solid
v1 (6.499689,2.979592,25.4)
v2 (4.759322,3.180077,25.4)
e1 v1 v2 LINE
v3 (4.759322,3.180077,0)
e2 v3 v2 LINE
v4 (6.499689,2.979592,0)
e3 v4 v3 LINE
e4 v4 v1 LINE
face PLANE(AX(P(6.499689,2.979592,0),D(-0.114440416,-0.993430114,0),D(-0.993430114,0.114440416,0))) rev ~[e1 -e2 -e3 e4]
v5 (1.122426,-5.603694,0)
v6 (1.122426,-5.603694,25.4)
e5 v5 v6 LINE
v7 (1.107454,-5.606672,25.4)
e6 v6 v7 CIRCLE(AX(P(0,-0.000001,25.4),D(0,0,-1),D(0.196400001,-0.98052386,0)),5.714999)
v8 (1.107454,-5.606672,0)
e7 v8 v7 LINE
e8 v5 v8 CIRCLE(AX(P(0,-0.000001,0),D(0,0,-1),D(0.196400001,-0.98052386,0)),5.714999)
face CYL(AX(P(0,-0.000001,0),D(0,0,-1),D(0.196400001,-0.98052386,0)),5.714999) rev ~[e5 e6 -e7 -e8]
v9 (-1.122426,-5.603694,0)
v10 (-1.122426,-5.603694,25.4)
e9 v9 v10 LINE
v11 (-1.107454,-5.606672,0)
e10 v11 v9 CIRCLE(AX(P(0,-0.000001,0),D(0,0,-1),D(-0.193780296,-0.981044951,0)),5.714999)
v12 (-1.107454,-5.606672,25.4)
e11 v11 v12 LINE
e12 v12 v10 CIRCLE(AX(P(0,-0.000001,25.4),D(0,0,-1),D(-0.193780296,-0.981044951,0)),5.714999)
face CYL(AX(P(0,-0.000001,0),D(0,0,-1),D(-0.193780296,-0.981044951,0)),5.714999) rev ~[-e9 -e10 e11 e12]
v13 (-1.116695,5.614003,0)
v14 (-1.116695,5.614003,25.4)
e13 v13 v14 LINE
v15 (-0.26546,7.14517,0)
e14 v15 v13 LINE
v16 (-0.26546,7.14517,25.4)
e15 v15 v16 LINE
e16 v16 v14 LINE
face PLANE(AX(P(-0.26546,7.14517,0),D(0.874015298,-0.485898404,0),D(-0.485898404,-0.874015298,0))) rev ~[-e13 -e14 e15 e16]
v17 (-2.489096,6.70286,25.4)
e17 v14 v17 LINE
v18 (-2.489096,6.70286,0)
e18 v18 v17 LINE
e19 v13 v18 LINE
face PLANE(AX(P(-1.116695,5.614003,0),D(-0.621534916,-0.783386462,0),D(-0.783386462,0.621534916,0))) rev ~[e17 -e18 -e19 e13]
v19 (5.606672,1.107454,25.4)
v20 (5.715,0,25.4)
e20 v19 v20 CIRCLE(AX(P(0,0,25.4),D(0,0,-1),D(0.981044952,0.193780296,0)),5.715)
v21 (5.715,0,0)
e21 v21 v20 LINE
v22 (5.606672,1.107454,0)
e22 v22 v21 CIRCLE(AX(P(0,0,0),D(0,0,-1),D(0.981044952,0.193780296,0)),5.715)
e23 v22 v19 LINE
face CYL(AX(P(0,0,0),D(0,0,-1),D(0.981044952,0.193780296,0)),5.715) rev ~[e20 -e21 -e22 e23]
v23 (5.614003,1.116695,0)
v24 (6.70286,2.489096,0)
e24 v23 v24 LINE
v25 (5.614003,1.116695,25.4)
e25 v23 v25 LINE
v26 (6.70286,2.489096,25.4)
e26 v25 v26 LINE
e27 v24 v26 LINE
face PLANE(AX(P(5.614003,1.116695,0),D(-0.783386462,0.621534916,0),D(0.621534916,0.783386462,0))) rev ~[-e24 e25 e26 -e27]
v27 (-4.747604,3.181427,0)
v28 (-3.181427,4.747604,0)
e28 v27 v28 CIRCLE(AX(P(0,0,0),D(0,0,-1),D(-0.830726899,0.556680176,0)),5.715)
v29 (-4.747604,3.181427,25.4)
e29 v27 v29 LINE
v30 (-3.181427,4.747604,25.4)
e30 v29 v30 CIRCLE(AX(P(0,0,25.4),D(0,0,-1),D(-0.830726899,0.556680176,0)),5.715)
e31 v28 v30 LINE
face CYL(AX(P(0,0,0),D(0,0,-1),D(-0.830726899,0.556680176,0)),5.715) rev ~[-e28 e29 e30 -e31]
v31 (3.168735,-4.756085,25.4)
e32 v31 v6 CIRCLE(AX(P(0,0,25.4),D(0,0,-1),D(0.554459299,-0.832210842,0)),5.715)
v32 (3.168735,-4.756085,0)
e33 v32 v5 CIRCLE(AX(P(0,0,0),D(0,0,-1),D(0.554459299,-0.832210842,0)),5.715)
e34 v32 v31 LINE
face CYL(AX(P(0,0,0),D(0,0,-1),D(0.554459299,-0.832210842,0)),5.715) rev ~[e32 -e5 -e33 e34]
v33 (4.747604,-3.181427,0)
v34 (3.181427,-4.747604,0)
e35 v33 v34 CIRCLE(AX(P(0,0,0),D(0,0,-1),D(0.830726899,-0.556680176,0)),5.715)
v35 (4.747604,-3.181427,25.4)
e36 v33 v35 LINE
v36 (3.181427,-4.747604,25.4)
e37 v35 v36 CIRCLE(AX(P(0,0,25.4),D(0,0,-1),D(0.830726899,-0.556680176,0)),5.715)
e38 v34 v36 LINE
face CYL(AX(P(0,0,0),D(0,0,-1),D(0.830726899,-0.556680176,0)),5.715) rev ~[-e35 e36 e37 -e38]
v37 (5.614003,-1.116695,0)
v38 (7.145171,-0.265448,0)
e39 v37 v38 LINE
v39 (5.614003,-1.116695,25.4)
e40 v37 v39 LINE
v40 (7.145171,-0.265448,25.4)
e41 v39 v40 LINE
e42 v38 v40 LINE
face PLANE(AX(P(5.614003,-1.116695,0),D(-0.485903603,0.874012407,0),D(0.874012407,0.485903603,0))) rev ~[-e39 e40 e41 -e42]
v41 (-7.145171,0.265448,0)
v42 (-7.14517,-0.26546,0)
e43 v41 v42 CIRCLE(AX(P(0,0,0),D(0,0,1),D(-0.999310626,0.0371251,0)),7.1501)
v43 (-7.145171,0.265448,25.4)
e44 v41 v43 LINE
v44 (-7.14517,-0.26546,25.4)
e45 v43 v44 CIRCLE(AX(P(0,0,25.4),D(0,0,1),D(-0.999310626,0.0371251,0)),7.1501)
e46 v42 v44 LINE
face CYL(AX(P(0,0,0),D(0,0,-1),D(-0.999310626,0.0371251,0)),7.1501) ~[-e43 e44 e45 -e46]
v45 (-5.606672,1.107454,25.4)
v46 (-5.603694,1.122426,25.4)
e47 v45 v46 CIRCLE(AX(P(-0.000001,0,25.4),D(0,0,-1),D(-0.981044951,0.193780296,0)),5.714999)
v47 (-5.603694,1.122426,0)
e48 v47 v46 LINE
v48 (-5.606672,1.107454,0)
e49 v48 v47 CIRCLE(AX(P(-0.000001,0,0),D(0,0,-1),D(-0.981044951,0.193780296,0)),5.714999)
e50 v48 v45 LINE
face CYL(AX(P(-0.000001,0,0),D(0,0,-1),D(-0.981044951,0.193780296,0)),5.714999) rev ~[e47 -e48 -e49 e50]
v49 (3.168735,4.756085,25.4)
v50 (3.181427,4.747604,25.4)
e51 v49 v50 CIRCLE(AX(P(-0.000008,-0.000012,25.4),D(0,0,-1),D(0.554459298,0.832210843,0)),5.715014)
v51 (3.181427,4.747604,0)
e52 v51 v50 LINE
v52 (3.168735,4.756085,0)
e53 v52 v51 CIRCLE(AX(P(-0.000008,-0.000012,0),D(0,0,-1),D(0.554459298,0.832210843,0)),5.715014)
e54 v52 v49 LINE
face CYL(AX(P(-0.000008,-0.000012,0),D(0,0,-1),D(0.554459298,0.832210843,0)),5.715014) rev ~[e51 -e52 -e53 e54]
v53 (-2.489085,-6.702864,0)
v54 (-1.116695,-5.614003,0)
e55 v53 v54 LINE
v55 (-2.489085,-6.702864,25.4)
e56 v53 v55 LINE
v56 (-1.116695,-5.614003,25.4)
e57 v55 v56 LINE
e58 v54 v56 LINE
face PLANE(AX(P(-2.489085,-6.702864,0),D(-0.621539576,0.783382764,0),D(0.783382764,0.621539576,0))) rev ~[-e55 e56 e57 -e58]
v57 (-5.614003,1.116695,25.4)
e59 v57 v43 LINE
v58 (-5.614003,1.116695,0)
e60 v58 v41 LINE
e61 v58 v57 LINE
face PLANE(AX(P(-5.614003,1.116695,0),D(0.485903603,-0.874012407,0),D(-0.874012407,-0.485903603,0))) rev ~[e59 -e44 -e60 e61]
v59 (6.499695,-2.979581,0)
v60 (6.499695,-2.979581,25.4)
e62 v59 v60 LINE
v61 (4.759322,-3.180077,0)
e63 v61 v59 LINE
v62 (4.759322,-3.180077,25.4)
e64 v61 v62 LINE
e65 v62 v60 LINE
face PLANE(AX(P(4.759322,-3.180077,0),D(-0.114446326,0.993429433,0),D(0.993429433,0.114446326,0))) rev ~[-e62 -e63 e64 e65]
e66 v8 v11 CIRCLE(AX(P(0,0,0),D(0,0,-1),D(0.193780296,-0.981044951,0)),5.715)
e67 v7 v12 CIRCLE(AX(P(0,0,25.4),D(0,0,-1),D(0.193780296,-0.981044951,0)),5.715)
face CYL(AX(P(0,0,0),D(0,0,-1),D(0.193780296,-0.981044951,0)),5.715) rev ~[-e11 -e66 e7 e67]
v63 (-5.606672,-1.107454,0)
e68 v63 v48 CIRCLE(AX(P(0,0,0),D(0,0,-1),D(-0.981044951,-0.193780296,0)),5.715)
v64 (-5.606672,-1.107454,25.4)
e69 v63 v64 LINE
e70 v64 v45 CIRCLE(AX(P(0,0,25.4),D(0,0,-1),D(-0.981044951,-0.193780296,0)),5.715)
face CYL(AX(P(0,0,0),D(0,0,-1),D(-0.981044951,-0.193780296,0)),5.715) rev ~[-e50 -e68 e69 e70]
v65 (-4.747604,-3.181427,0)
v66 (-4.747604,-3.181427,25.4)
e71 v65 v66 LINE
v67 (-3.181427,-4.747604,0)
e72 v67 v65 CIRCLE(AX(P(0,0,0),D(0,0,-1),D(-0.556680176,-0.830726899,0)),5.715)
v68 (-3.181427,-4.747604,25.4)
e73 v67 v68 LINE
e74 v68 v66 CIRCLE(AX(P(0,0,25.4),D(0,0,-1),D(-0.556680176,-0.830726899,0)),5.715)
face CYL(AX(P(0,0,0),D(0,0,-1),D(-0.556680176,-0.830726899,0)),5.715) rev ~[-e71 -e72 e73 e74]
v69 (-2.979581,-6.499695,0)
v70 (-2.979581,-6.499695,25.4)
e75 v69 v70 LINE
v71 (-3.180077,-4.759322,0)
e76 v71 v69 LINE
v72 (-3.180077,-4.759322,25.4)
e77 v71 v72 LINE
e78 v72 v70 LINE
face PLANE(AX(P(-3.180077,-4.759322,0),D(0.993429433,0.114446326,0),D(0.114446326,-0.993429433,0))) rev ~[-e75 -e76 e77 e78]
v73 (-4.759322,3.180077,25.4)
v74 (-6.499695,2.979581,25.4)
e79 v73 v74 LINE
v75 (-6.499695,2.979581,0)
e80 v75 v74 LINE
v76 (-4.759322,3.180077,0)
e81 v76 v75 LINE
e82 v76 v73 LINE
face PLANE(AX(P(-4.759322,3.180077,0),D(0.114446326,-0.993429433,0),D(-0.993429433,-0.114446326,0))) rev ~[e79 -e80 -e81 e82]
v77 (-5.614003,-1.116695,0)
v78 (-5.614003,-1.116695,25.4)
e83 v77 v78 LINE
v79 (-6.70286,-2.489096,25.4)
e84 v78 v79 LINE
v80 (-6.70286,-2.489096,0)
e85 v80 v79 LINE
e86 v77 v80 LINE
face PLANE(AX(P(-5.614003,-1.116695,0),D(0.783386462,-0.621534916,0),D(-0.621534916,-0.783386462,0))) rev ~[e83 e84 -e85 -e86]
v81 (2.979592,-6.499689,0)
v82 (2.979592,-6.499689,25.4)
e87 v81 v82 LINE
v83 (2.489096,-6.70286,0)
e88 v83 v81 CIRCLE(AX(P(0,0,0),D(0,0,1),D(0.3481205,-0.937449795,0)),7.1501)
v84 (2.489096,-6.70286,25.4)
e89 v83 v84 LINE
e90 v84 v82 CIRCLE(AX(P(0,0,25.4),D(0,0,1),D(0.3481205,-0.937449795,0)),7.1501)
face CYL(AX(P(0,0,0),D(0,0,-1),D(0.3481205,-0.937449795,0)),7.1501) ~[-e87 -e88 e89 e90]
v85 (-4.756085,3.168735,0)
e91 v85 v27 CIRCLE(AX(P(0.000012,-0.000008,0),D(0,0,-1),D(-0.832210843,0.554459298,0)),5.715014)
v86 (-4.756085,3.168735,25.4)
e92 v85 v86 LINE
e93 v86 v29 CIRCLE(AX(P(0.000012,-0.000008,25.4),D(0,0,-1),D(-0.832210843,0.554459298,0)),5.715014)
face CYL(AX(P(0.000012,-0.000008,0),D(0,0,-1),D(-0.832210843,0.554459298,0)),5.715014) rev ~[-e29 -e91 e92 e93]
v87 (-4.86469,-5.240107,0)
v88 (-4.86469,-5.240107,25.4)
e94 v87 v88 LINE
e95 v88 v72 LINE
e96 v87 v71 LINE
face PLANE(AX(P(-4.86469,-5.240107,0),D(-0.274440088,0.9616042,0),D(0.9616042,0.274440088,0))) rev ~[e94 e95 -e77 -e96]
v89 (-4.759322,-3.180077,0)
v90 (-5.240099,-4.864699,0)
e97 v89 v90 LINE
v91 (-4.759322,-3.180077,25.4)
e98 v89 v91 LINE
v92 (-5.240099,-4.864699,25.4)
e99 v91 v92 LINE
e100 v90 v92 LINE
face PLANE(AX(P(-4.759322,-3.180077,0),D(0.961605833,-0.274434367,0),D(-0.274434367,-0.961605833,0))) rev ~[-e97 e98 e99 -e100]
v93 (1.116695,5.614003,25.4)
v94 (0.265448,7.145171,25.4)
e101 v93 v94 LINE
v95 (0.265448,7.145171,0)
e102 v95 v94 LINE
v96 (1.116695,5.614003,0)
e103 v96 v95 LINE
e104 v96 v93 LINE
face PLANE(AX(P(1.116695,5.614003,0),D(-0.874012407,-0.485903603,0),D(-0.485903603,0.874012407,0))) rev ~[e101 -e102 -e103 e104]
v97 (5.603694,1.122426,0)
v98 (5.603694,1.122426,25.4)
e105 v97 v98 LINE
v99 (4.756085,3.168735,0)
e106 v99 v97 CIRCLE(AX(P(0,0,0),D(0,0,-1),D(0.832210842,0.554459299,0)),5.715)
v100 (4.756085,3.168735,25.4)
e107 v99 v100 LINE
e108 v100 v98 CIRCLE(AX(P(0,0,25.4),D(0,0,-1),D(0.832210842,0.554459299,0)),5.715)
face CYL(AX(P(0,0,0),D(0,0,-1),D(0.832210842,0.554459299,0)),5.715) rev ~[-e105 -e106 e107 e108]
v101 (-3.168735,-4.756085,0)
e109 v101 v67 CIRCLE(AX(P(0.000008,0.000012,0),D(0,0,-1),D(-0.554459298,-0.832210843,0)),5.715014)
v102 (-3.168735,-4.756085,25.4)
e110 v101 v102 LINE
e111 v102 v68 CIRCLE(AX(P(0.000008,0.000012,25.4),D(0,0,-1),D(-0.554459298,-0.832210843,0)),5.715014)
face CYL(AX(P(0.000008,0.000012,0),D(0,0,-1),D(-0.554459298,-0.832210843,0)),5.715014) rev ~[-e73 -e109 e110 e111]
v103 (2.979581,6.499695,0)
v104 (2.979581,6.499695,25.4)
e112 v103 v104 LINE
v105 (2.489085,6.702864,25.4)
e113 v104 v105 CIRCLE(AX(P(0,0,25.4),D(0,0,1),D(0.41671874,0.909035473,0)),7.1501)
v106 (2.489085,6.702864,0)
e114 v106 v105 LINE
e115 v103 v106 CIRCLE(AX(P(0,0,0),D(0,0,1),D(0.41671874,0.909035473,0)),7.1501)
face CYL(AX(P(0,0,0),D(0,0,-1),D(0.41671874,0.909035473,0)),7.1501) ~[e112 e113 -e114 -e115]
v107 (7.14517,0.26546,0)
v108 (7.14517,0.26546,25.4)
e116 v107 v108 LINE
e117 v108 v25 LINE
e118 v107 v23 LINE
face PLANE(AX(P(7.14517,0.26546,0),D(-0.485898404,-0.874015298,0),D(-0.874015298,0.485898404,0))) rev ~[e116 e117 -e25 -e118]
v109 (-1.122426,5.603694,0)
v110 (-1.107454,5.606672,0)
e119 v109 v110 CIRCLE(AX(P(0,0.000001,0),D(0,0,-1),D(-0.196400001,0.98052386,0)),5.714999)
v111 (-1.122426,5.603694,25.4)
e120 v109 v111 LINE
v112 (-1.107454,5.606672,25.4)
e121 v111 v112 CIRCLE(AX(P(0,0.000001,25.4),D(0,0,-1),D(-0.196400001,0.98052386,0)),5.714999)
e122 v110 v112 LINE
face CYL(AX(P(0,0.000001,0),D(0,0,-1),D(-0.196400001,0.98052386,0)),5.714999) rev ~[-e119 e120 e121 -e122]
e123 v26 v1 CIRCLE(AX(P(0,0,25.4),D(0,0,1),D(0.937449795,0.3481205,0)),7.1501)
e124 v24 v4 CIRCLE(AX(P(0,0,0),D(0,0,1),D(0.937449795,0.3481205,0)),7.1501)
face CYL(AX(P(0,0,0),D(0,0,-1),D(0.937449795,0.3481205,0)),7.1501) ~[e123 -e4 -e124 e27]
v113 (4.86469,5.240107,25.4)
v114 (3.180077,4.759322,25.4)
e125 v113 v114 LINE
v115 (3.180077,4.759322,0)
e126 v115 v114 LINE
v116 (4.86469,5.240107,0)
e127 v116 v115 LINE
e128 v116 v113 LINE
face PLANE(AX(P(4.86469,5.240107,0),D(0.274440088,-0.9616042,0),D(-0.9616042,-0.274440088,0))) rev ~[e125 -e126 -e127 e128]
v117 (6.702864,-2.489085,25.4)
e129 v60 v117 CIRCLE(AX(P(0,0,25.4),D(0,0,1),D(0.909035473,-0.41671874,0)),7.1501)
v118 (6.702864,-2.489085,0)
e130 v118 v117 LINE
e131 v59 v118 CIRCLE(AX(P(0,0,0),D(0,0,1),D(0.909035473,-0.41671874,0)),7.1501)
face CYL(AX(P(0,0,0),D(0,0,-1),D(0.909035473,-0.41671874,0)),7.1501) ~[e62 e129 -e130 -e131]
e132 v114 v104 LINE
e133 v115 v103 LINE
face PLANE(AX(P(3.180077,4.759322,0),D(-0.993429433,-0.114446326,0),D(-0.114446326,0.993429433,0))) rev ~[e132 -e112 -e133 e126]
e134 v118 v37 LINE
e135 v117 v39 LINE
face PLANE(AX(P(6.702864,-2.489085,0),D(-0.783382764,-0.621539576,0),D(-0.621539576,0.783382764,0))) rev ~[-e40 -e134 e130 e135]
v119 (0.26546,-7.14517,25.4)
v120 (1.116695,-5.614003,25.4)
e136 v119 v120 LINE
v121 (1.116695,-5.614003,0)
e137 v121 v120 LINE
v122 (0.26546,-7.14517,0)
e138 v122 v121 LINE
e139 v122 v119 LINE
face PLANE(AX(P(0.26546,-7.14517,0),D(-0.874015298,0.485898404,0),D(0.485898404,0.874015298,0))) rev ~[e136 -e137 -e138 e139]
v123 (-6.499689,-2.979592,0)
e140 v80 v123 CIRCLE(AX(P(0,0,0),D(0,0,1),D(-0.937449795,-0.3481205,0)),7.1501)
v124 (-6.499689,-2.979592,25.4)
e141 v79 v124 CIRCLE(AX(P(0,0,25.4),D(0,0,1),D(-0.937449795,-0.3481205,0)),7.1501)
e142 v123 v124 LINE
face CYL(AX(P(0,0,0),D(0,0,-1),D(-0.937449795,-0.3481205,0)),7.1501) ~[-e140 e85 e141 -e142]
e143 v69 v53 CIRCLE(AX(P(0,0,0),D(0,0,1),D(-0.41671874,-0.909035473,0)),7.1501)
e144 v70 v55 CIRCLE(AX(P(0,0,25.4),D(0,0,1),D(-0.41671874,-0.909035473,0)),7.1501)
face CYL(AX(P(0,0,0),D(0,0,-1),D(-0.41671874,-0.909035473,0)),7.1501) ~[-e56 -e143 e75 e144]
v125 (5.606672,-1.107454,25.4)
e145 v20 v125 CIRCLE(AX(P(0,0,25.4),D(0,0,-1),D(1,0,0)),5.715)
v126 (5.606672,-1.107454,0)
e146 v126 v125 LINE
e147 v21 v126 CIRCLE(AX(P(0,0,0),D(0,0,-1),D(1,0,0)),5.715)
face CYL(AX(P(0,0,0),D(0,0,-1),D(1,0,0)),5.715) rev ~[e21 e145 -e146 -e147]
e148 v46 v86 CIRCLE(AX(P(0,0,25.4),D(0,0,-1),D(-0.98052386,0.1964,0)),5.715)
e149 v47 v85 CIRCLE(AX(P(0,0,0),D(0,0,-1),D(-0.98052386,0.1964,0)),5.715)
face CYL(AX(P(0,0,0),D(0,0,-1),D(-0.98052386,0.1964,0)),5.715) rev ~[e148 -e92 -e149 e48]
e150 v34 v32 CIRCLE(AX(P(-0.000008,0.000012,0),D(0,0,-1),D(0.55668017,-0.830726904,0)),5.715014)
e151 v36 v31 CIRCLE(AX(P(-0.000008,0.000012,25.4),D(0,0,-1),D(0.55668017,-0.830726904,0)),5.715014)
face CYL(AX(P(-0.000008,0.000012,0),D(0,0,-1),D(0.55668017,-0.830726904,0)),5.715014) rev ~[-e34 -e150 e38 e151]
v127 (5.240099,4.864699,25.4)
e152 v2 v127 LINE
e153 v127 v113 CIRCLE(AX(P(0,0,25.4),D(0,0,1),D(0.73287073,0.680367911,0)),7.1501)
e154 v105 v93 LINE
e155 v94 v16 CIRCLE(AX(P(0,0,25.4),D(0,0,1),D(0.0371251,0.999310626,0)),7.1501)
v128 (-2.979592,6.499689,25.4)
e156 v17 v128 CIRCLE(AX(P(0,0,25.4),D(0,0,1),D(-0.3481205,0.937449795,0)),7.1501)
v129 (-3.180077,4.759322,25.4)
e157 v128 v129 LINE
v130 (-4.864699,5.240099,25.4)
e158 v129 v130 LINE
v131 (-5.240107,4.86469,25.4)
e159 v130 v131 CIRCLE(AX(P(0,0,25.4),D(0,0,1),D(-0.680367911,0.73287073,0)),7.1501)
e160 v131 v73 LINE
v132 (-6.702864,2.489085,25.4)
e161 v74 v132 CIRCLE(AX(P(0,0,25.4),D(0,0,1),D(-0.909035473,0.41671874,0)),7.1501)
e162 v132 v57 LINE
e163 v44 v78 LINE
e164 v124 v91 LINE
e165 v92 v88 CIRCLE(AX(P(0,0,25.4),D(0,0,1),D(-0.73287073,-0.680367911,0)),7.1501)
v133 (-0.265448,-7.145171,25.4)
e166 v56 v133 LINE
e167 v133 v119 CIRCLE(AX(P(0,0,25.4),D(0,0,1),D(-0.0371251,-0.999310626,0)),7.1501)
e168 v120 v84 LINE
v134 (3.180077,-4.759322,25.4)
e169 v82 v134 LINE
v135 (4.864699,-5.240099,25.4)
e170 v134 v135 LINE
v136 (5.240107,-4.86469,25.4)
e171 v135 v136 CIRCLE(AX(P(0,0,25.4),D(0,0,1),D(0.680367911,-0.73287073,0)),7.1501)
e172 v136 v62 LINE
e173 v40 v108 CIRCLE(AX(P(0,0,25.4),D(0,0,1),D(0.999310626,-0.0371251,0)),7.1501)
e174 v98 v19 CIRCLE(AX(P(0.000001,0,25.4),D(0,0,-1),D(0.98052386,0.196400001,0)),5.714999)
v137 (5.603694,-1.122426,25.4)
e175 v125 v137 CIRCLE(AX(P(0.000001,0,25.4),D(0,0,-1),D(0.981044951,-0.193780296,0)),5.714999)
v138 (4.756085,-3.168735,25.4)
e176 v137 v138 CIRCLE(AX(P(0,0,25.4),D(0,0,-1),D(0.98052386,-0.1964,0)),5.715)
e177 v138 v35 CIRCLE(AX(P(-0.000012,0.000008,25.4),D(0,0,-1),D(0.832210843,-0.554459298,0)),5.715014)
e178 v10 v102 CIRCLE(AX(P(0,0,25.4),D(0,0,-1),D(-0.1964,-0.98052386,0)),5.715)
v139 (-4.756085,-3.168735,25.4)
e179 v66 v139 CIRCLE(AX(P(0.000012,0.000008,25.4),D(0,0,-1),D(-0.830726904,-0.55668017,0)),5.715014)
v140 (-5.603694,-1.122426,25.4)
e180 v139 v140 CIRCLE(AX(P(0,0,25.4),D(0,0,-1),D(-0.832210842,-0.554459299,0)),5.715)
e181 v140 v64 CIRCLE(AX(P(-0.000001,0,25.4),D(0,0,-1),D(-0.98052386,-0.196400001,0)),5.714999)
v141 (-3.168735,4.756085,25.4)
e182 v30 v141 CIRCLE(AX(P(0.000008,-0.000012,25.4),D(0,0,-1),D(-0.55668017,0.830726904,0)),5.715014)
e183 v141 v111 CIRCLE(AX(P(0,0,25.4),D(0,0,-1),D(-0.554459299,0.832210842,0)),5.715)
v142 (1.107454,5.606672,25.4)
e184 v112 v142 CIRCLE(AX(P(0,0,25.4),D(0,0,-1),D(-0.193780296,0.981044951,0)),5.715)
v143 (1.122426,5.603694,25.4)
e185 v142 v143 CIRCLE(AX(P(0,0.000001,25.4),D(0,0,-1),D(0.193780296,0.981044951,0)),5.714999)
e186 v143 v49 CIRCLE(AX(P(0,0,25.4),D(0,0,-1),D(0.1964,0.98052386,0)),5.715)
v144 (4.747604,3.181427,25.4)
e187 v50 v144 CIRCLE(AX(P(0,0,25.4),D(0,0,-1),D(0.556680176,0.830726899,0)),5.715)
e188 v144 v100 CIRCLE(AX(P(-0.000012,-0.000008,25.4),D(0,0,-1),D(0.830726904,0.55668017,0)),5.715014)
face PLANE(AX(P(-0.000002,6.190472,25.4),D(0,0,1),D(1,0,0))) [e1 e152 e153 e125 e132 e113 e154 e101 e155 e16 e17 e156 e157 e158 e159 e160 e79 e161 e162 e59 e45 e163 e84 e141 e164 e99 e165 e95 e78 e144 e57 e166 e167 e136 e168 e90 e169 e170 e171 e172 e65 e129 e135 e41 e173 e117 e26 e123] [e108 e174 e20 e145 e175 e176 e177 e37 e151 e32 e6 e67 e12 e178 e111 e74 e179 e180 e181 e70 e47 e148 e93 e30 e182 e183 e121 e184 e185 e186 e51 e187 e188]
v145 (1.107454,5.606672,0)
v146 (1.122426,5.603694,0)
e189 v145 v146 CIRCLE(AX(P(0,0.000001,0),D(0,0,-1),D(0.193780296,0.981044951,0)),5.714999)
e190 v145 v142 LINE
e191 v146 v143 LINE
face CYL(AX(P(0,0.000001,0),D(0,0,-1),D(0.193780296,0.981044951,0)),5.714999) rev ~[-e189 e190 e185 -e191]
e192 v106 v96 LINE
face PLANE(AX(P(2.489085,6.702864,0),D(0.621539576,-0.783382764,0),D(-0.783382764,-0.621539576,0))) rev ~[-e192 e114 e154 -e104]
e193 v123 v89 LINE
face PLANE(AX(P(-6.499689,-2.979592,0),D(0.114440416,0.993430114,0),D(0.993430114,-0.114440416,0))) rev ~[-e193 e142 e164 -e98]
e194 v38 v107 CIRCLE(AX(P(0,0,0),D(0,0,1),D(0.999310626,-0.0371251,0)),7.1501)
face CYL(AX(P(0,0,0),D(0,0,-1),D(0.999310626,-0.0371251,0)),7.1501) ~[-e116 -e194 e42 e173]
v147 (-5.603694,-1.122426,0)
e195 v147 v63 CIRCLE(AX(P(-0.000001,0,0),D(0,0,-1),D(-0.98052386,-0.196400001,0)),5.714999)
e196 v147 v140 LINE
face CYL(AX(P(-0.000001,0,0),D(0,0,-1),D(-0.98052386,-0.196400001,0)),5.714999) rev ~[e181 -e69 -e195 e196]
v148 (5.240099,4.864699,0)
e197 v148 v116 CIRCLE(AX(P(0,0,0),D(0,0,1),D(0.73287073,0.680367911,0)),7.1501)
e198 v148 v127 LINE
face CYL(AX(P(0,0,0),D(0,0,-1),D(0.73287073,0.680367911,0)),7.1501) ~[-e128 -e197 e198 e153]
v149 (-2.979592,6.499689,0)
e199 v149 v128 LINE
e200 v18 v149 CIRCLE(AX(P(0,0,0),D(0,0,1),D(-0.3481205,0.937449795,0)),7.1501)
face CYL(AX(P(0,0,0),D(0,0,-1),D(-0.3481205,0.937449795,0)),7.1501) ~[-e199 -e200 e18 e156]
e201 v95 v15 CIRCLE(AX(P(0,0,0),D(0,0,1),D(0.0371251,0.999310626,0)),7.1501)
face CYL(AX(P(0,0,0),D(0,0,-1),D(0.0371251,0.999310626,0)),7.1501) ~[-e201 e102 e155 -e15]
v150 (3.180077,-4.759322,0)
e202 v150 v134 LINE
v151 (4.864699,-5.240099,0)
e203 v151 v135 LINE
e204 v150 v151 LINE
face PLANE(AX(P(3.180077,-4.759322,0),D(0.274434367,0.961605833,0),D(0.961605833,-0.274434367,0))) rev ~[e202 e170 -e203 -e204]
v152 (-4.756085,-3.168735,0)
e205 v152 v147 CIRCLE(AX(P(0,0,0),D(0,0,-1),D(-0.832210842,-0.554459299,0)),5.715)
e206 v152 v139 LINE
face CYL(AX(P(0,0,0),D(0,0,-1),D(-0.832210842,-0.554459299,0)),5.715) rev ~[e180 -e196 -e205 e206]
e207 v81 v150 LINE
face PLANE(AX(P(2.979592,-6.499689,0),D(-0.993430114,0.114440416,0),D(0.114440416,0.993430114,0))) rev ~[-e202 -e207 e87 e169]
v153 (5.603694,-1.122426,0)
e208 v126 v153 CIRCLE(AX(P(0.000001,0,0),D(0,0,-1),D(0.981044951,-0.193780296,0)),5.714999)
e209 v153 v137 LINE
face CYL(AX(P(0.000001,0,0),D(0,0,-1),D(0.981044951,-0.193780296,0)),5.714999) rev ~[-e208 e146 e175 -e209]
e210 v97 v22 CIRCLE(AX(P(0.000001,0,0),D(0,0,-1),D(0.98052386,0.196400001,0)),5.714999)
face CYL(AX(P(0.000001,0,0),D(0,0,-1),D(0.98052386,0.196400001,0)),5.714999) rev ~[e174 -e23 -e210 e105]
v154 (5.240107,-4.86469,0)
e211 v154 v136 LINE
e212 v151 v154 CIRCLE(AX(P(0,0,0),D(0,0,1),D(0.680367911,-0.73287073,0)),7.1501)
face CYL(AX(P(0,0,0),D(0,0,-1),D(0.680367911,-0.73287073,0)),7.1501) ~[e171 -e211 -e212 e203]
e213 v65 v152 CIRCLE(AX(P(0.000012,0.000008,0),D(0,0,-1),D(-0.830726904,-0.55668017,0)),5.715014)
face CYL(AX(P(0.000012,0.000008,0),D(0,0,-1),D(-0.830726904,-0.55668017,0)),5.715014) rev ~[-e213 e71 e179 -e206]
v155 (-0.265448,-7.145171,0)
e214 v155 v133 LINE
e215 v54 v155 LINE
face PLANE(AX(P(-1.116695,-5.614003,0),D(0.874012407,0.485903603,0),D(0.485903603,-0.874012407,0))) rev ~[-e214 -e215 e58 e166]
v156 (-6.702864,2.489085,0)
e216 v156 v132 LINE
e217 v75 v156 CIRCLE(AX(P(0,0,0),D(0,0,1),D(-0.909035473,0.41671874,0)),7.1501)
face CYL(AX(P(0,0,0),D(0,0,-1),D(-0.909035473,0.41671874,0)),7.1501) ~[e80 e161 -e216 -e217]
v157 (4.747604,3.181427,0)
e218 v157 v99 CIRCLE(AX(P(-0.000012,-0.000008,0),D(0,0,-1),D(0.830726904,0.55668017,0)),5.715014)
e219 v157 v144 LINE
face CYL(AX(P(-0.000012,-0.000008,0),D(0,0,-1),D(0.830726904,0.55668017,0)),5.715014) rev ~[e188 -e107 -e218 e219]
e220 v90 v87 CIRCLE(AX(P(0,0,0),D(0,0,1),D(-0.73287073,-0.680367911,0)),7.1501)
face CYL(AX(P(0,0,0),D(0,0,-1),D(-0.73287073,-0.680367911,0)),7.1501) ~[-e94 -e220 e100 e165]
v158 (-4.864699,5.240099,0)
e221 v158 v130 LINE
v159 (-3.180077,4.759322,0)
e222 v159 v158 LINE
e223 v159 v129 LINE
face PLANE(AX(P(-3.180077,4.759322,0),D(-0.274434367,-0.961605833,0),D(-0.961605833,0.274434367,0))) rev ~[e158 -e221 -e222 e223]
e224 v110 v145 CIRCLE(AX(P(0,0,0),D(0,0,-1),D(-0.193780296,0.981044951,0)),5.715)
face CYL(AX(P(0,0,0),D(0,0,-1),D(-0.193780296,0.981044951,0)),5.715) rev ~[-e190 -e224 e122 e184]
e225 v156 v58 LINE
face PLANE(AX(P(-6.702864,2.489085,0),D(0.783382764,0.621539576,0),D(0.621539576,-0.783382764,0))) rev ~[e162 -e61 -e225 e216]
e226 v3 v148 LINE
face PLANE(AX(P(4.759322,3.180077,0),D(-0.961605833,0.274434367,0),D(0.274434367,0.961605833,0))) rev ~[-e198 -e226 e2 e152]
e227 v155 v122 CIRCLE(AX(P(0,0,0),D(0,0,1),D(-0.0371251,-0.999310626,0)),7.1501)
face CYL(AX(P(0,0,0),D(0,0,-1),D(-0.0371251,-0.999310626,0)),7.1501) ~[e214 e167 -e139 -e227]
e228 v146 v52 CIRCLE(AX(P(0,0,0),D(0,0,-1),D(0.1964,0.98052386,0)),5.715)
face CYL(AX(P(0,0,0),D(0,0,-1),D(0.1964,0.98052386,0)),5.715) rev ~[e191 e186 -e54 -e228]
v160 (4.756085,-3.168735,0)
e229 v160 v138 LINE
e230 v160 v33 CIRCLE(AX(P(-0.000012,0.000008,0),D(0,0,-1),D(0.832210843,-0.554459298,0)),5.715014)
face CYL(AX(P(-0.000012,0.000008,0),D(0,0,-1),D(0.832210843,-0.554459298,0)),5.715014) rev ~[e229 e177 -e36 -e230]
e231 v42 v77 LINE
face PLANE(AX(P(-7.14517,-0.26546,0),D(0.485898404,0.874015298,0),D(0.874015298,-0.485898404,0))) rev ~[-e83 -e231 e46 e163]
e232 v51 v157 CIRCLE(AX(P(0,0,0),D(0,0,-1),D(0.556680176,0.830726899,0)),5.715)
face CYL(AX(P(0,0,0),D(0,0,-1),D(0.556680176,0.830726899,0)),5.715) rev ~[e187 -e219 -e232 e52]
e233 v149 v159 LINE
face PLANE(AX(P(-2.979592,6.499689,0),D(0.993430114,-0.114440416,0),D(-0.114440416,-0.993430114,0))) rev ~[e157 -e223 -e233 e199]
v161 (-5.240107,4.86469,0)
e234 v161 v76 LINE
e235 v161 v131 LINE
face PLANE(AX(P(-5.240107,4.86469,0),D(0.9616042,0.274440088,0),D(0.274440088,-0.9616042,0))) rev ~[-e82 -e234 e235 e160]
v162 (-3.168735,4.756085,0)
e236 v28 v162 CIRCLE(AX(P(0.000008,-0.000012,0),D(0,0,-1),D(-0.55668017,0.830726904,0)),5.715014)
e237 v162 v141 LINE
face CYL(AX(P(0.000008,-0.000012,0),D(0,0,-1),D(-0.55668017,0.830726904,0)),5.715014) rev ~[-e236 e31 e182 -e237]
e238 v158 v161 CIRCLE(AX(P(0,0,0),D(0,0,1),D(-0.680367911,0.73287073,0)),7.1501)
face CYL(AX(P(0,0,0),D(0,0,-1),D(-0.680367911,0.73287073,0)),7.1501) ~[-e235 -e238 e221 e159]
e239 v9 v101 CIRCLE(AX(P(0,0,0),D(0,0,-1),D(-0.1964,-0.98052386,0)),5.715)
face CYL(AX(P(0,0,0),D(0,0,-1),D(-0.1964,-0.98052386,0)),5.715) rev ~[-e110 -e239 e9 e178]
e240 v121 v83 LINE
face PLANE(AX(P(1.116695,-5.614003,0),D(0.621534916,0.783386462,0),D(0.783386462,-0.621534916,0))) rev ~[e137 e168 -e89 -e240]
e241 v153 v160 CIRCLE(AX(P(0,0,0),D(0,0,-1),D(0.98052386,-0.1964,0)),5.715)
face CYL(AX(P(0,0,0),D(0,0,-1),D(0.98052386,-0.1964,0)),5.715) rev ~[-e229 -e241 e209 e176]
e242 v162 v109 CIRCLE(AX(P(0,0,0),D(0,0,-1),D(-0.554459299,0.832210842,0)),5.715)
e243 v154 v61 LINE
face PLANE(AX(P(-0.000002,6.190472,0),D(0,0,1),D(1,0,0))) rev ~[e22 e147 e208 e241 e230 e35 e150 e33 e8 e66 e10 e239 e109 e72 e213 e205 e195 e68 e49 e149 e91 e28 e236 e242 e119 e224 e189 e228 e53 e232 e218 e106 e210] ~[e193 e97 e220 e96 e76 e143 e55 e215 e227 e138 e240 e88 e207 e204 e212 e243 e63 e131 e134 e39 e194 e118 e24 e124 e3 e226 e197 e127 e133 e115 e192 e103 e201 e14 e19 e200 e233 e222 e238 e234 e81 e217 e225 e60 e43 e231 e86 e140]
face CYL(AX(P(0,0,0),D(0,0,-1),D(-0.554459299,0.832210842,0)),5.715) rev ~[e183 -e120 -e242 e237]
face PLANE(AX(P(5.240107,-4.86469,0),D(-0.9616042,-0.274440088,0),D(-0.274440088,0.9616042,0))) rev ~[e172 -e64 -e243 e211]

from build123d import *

# Parameters (mm, degrees)
F1_DEPTH = 25.4


with BuildPart() as f1:
    # F0 (on Top) → F1 (new body)
    with BuildSketch(Plane.XY):
        with BuildLine():
            Line((1.1166946055, 5.6140031267), (0.2654481758, 7.145170906))
            ThreePointArc((0.2654481758, 7.145170906), (-6.1331e-06, 7.1501), (-0.2654604336, 7.1451704506))
            Line((-0.2654604336, 7.1451704506), (-1.1166946958, 5.6140031087))
            Line((-1.1166946958, 5.6140031087), (-1.107454392, 5.6066718978))
            ThreePointArc((-1.107454392, 5.6066718978), (0, 5.715), (1.107454392, 5.6066718978))
            Line((1.107454392, 5.6066718978), (1.1166946055, 5.6140031267))
        make_face()
        with BuildLine():
            Line((2.4890848916, 6.7028640455), (1.1166946055, 5.6140031267))
            Line((1.1166946055, 5.6140031267), (1.122426, 5.6036938598))
            ThreePointArc((1.122426, 5.6036938598), (2.187035816, 5.2799715283), (3.168734892, 4.7560849639))
            Line((3.168734892, 4.7560849639), (3.1800772759, 4.7593220597))
            Line((3.1800772759, 4.7593220597), (2.9795806637, 6.4996945373))
            ThreePointArc((2.9795806637, 6.4996945373), (2.7362191435, 6.6058333924), (2.4890848916, 6.7028640455))
        make_face()
        with BuildLine():
            Line((1.122426, 5.6036938598), (1.1166946055, 5.6140031267))
            Line((1.1166946055, 5.6140031267), (1.107454392, 5.6066718978))
            ThreePointArc((1.107454392, 5.6066718978), (1.1149411903, 5.6051878775), (1.122426, 5.6036938598))
        make_face()
        with BuildLine():
            Line((-1.107454392, 5.6066718978), (-1.1166946958, 5.6140031087))
            Line((-1.1166946958, 5.6140031087), (-1.122426, 5.6036938598))
            ThreePointArc((-1.122426, 5.6036938598), (-1.1149411903, 5.6051878775), (-1.107454392, 5.6066718978))
        make_face()
        with BuildLine():
            Line((-1.122426, 5.6036938598), (-1.1166946958, 5.6140031087))
            Line((-1.1166946958, 5.6140031087), (-2.4890963905, 6.7028597754))
            ThreePointArc((-2.4890963905, 6.7028597754), (-2.736230476, 6.6058286984), (-2.9795918141, 6.4996894258))
            Line((-2.9795918141, 6.4996894258), (-3.1800773524, 4.7593220085))
            Line((-3.1800773524, 4.7593220085), (-3.168734892, 4.7560849639))
            ThreePointArc((-3.168734892, 4.7560849639), (-2.187035816, 5.2799715283), (-1.122426, 5.6036938598))
        make_face()
        with BuildLine():
            Line((3.1800772759, 4.7593220597), (3.168734892, 4.7560849639))
            ThreePointArc((3.168734892, 4.7560849639), (3.1750838817, 4.7518488343), (3.1814272084, 4.7476042293))
            Line((3.1814272084, 4.7476042293), (3.1800772759, 4.7593220597))
        make_face()
        with BuildLine():
            ThreePointArc((-3.1814272084, 4.7476042293), (-3.1750838817, 4.7518488343), (-3.168734892, 4.7560849639))
            Line((-3.168734892, 4.7560849639), (-3.1800773524, 4.7593220085))
            Line((-3.1800773524, 4.7593220085), (-3.1814272084, 4.7476042293))
        make_face()
        with BuildLine():
            Line((3.1800772759, 4.7593220597), (3.1814272084, 4.7476042293))
            ThreePointArc((3.1814272084, 4.7476042293), (4.0411152545, 4.0411152545), (4.7476042293, 3.1814272084))
            Line((4.7476042293, 3.1814272084), (4.7593220085, 3.1800773524))
            Line((4.7593220085, 3.1800773524), (5.2400990056, 4.8646985952))
            ThreePointArc((5.2400990056, 4.8646985952), (5.0558798594, 5.0558885329), (4.8646896057, 5.2401073511))
            Line((4.8646896057, 5.2401073511), (3.1800772759, 4.7593220597))
        make_face()
        with BuildLine():
            ThreePointArc((-4.7476042293, 3.1814272084), (-4.0411152545, 4.0411152545), (-3.1814272084, 4.7476042293))
            Line((-3.1814272084, 4.7476042293), (-3.1800773524, 4.7593220085))
            Line((-3.1800773524, 4.7593220085), (-4.8646985952, 5.2400990056))
            ThreePointArc((-4.8646985952, 5.2400990056), (-5.0558885329, 5.0558798594), (-5.2401073511, 4.8646896057))
            Line((-5.2401073511, 4.8646896057), (-4.7593220597, 3.1800772759))
            Line((-4.7593220597, 3.1800772759), (-4.7476042293, 3.1814272084))
        make_face()
        with BuildLine():
            Line((4.7593220085, 3.1800773524), (4.7476042293, 3.1814272084))
            ThreePointArc((4.7476042293, 3.1814272084), (4.7518488343, 3.1750838817), (4.7560849639, 3.168734892))
            Line((4.7560849639, 3.168734892), (4.7593220085, 3.1800773524))
        make_face()
        with BuildLine():
            ThreePointArc((-4.7560849639, 3.168734892), (-4.7518488343, 3.1750838817), (-4.7476042293, 3.1814272084))
            Line((-4.7476042293, 3.1814272084), (-4.7593220597, 3.1800772759))
            Line((-4.7593220597, 3.1800772759), (-4.7560849639, 3.168734892))
        make_face()
        with BuildLine():
            Line((4.7593220085, 3.1800773524), (4.7560849639, 3.168734892))
            ThreePointArc((4.7560849639, 3.168734892), (5.2799715283, 2.187035816), (5.6036938598, 1.122426))
            Line((5.6036938598, 1.122426), (5.6140031087, 1.1166946958))
            Line((5.6140031087, 1.1166946958), (6.7028597754, 2.4890963905))
            ThreePointArc((6.7028597754, 2.4890963905), (6.6058286984, 2.736230476), (6.4996894258, 2.9795918141))
            Line((6.4996894258, 2.9795918141), (4.7593220085, 3.1800773524))
        make_face()
        with BuildLine():
            ThreePointArc((-5.6036938598, 1.122426), (-5.2799715283, 2.187035816), (-4.7560849639, 3.168734892))
            Line((-4.7560849639, 3.168734892), (-4.7593220597, 3.1800772759))
            Line((-4.7593220597, 3.1800772759), (-6.4996945373, 2.9795806637))
            ThreePointArc((-6.4996945373, 2.9795806637), (-6.6058333924, 2.7362191435), (-6.7028640455, 2.4890848916))
            Line((-6.7028640455, 2.4890848916), (-5.6140031267, 1.1166946055))
            Line((-5.6140031267, 1.1166946055), (-5.6036938598, 1.122426))
        make_face()
        with BuildLine():
            Line((5.6140031087, 1.1166946958), (5.6036938598, 1.122426))
            ThreePointArc((5.6036938598, 1.122426), (5.6051878775, 1.1149411903), (5.6066718978, 1.107454392))
            Line((5.6066718978, 1.107454392), (5.6140031087, 1.1166946958))
        make_face()
        with BuildLine():
            ThreePointArc((-5.6066718978, 1.107454392), (-5.6051878775, 1.1149411903), (-5.6036938598, 1.122426))
            Line((-5.6036938598, 1.122426), (-5.6140031267, 1.1166946055))
            Line((-5.6140031267, 1.1166946055), (-5.6066718978, 1.107454392))
        make_face()
        with BuildLine():
            Line((5.6140031087, 1.1166946958), (5.6066718978, 1.107454392))
            ThreePointArc((5.6066718978, 1.107454392), (5.6878535009, 0.5563699777), (5.715, 0))
            ThreePointArc((5.715, 0), (5.6878535009, -0.5563699777), (5.6066718978, -1.107454392))
            Line((5.6066718978, -1.107454392), (5.6140031267, -1.1166946055))
            Line((5.6140031267, -1.1166946055), (7.145170906, -0.2654481758))
            ThreePointArc((7.145170906, -0.2654481758), (7.1501, 6.1331e-06), (7.1451704506, 0.2654604336))
            Line((7.1451704506, 0.2654604336), (5.6140031087, 1.1166946958))
        make_face()
        with BuildLine():
            ThreePointArc((-5.6066718978, -1.107454392), (-5.715, 0), (-5.6066718978, 1.107454392))
            Line((-5.6066718978, 1.107454392), (-5.6140031267, 1.1166946055))
            Line((-5.6140031267, 1.1166946055), (-7.145170906, 0.2654481758))
            ThreePointArc((-7.145170906, 0.2654481758), (-7.1501, -6.1331e-06), (-7.1451704506, -0.2654604336))
            Line((-7.1451704506, -0.2654604336), (-5.6140031087, -1.1166946958))
            Line((-5.6140031087, -1.1166946958), (-5.6066718978, -1.107454392))
        make_face()
        with BuildLine():
            ThreePointArc((-5.6036938598, -1.122426), (-5.6051878775, -1.1149411903), (-5.6066718978, -1.107454392))
            Line((-5.6066718978, -1.107454392), (-5.6140031087, -1.1166946958))
            Line((-5.6140031087, -1.1166946958), (-5.6036938598, -1.122426))
        make_face()
        with BuildLine():
            Line((5.6140031267, -1.1166946055), (5.6066718978, -1.107454392))
            ThreePointArc((5.6066718978, -1.107454392), (5.6051878775, -1.1149411903), (5.6036938598, -1.122426))
            Line((5.6036938598, -1.122426), (5.6140031267, -1.1166946055))
        make_face()
        with BuildLine():
            ThreePointArc((-4.7560849639, -3.168734892), (-5.2799715283, -2.187035816), (-5.6036938598, -1.122426))
            Line((-5.6036938598, -1.122426), (-5.6140031087, -1.1166946958))
            Line((-5.6140031087, -1.1166946958), (-6.7028597754, -2.4890963905))
            ThreePointArc((-6.7028597754, -2.4890963905), (-6.6058286984, -2.736230476), (-6.4996894258, -2.9795918141))
            Line((-6.4996894258, -2.9795918141), (-4.7593220085, -3.1800773524))
            Line((-4.7593220085, -3.1800773524), (-4.7560849639, -3.168734892))
        make_face()
        with BuildLine():
            Line((5.6140031267, -1.1166946055), (5.6036938598, -1.122426))
            ThreePointArc((5.6036938598, -1.122426), (5.2799715283, -2.187035816), (4.7560849639, -3.168734892))
            Line((4.7560849639, -3.168734892), (4.7593220597, -3.1800772759))
            Line((4.7593220597, -3.1800772759), (6.4996945373, -2.9795806637))
            ThreePointArc((6.4996945373, -2.9795806637), (6.6058333924, -2.7362191435), (6.7028640455, -2.4890848916))
            Line((6.7028640455, -2.4890848916), (5.6140031267, -1.1166946055))
        make_face()
        with BuildLine():
            ThreePointArc((-4.7476042293, -3.1814272084), (-4.7518488343, -3.1750838817), (-4.7560849639, -3.168734892))
            Line((-4.7560849639, -3.168734892), (-4.7593220085, -3.1800773524))
            Line((-4.7593220085, -3.1800773524), (-4.7476042293, -3.1814272084))
        make_face()
        with BuildLine():
            Line((4.7593220597, -3.1800772759), (4.7560849639, -3.168734892))
            ThreePointArc((4.7560849639, -3.168734892), (4.7518488343, -3.1750838817), (4.7476042293, -3.1814272084))
            Line((4.7476042293, -3.1814272084), (4.7593220597, -3.1800772759))
        make_face()
        with BuildLine():
            ThreePointArc((-3.1814272084, -4.7476042293), (-4.0411152545, -4.0411152545), (-4.7476042293, -3.1814272084))
            Line((-4.7476042293, -3.1814272084), (-4.7593220085, -3.1800773524))
            Line((-4.7593220085, -3.1800773524), (-5.2400990056, -4.8646985952))
            ThreePointArc((-5.2400990056, -4.8646985952), (-5.0558798594, -5.0558885329), (-4.8646896057, -5.2401073511))
            Line((-4.8646896057, -5.2401073511), (-3.1800772759, -4.7593220597))
            Line((-3.1800772759, -4.7593220597), (-3.1814272084, -4.7476042293))
        make_face()
        with BuildLine():
            Line((4.7593220597, -3.1800772759), (4.7476042293, -3.1814272084))
            ThreePointArc((4.7476042293, -3.1814272084), (4.0411152545, -4.0411152545), (3.1814272084, -4.7476042293))
            Line((3.1814272084, -4.7476042293), (3.1800773524, -4.7593220085))
            Line((3.1800773524, -4.7593220085), (4.8646985952, -5.2400990056))
            ThreePointArc((4.8646985952, -5.2400990056), (5.0558885329, -5.0558798594), (5.2401073511, -4.8646896057))
            Line((5.2401073511, -4.8646896057), (4.7593220597, -3.1800772759))
        make_face()
        with BuildLine():
            ThreePointArc((-3.168734892, -4.7560849639), (-3.1750838817, -4.7518488343), (-3.1814272084, -4.7476042293))
            Line((-3.1814272084, -4.7476042293), (-3.1800772759, -4.7593220597))
            Line((-3.1800772759, -4.7593220597), (-3.168734892, -4.7560849639))
        make_face()
        with BuildLine():
            Line((3.1800773524, -4.7593220085), (3.1814272084, -4.7476042293))
            ThreePointArc((3.1814272084, -4.7476042293), (3.1750838817, -4.7518488343), (3.168734892, -4.7560849639))
            Line((3.168734892, -4.7560849639), (3.1800773524, -4.7593220085))
        make_face()
        with BuildLine():
            ThreePointArc((-1.122426, -5.6036938598), (-2.187035816, -5.2799715283), (-3.168734892, -4.7560849639))
            Line((-3.168734892, -4.7560849639), (-3.1800772759, -4.7593220597))
            Line((-3.1800772759, -4.7593220597), (-2.9795806637, -6.4996945373))
            ThreePointArc((-2.9795806637, -6.4996945373), (-2.7362191435, -6.6058333924), (-2.4890848916, -6.7028640455))
            Line((-2.4890848916, -6.7028640455), (-1.1166946055, -5.6140031267))
            Line((-1.1166946055, -5.6140031267), (-1.122426, -5.6036938598))
        make_face()
        with BuildLine():
            Line((3.1800773524, -4.7593220085), (3.168734892, -4.7560849639))
            ThreePointArc((3.168734892, -4.7560849639), (2.187035816, -5.2799715283), (1.122426, -5.6036938598))
            Line((1.122426, -5.6036938598), (1.1166946958, -5.6140031087))
            Line((1.1166946958, -5.6140031087), (2.4890963905, -6.7028597754))
            ThreePointArc((2.4890963905, -6.7028597754), (2.736230476, -6.6058286984), (2.9795918141, -6.4996894258))
            Line((2.9795918141, -6.4996894258), (3.1800773524, -4.7593220085))
        make_face()
        with BuildLine():
            ThreePointArc((-1.107454392, -5.6066718978), (-1.1149411903, -5.6051878775), (-1.122426, -5.6036938598))
            Line((-1.122426, -5.6036938598), (-1.1166946055, -5.6140031267))
            Line((-1.1166946055, -5.6140031267), (-1.107454392, -5.6066718978))
        make_face()
        with BuildLine():
            Line((1.1166946958, -5.6140031087), (1.122426, -5.6036938598))
            ThreePointArc((1.122426, -5.6036938598), (1.1149411903, -5.6051878775), (1.107454392, -5.6066718978))
            Line((1.107454392, -5.6066718978), (1.1166946958, -5.6140031087))
        make_face()
        with BuildLine():
            ThreePointArc((1.107454392, -5.6066718978), (0, -5.715), (-1.107454392, -5.6066718978))
            Line((-1.107454392, -5.6066718978), (-1.1166946055, -5.6140031267))
            Line((-1.1166946055, -5.6140031267), (-0.2654481758, -7.145170906))
            ThreePointArc((-0.2654481758, -7.145170906), (6.1331e-06, -7.1501), (0.2654604336, -7.1451704506))
            Line((0.2654604336, -7.1451704506), (1.1166946958, -5.6140031087))
            Line((1.1166946958, -5.6140031087), (1.107454392, -5.6066718978))
        make_face()
    extrude(amount=F1_DEPTH)


solid = f1.part
